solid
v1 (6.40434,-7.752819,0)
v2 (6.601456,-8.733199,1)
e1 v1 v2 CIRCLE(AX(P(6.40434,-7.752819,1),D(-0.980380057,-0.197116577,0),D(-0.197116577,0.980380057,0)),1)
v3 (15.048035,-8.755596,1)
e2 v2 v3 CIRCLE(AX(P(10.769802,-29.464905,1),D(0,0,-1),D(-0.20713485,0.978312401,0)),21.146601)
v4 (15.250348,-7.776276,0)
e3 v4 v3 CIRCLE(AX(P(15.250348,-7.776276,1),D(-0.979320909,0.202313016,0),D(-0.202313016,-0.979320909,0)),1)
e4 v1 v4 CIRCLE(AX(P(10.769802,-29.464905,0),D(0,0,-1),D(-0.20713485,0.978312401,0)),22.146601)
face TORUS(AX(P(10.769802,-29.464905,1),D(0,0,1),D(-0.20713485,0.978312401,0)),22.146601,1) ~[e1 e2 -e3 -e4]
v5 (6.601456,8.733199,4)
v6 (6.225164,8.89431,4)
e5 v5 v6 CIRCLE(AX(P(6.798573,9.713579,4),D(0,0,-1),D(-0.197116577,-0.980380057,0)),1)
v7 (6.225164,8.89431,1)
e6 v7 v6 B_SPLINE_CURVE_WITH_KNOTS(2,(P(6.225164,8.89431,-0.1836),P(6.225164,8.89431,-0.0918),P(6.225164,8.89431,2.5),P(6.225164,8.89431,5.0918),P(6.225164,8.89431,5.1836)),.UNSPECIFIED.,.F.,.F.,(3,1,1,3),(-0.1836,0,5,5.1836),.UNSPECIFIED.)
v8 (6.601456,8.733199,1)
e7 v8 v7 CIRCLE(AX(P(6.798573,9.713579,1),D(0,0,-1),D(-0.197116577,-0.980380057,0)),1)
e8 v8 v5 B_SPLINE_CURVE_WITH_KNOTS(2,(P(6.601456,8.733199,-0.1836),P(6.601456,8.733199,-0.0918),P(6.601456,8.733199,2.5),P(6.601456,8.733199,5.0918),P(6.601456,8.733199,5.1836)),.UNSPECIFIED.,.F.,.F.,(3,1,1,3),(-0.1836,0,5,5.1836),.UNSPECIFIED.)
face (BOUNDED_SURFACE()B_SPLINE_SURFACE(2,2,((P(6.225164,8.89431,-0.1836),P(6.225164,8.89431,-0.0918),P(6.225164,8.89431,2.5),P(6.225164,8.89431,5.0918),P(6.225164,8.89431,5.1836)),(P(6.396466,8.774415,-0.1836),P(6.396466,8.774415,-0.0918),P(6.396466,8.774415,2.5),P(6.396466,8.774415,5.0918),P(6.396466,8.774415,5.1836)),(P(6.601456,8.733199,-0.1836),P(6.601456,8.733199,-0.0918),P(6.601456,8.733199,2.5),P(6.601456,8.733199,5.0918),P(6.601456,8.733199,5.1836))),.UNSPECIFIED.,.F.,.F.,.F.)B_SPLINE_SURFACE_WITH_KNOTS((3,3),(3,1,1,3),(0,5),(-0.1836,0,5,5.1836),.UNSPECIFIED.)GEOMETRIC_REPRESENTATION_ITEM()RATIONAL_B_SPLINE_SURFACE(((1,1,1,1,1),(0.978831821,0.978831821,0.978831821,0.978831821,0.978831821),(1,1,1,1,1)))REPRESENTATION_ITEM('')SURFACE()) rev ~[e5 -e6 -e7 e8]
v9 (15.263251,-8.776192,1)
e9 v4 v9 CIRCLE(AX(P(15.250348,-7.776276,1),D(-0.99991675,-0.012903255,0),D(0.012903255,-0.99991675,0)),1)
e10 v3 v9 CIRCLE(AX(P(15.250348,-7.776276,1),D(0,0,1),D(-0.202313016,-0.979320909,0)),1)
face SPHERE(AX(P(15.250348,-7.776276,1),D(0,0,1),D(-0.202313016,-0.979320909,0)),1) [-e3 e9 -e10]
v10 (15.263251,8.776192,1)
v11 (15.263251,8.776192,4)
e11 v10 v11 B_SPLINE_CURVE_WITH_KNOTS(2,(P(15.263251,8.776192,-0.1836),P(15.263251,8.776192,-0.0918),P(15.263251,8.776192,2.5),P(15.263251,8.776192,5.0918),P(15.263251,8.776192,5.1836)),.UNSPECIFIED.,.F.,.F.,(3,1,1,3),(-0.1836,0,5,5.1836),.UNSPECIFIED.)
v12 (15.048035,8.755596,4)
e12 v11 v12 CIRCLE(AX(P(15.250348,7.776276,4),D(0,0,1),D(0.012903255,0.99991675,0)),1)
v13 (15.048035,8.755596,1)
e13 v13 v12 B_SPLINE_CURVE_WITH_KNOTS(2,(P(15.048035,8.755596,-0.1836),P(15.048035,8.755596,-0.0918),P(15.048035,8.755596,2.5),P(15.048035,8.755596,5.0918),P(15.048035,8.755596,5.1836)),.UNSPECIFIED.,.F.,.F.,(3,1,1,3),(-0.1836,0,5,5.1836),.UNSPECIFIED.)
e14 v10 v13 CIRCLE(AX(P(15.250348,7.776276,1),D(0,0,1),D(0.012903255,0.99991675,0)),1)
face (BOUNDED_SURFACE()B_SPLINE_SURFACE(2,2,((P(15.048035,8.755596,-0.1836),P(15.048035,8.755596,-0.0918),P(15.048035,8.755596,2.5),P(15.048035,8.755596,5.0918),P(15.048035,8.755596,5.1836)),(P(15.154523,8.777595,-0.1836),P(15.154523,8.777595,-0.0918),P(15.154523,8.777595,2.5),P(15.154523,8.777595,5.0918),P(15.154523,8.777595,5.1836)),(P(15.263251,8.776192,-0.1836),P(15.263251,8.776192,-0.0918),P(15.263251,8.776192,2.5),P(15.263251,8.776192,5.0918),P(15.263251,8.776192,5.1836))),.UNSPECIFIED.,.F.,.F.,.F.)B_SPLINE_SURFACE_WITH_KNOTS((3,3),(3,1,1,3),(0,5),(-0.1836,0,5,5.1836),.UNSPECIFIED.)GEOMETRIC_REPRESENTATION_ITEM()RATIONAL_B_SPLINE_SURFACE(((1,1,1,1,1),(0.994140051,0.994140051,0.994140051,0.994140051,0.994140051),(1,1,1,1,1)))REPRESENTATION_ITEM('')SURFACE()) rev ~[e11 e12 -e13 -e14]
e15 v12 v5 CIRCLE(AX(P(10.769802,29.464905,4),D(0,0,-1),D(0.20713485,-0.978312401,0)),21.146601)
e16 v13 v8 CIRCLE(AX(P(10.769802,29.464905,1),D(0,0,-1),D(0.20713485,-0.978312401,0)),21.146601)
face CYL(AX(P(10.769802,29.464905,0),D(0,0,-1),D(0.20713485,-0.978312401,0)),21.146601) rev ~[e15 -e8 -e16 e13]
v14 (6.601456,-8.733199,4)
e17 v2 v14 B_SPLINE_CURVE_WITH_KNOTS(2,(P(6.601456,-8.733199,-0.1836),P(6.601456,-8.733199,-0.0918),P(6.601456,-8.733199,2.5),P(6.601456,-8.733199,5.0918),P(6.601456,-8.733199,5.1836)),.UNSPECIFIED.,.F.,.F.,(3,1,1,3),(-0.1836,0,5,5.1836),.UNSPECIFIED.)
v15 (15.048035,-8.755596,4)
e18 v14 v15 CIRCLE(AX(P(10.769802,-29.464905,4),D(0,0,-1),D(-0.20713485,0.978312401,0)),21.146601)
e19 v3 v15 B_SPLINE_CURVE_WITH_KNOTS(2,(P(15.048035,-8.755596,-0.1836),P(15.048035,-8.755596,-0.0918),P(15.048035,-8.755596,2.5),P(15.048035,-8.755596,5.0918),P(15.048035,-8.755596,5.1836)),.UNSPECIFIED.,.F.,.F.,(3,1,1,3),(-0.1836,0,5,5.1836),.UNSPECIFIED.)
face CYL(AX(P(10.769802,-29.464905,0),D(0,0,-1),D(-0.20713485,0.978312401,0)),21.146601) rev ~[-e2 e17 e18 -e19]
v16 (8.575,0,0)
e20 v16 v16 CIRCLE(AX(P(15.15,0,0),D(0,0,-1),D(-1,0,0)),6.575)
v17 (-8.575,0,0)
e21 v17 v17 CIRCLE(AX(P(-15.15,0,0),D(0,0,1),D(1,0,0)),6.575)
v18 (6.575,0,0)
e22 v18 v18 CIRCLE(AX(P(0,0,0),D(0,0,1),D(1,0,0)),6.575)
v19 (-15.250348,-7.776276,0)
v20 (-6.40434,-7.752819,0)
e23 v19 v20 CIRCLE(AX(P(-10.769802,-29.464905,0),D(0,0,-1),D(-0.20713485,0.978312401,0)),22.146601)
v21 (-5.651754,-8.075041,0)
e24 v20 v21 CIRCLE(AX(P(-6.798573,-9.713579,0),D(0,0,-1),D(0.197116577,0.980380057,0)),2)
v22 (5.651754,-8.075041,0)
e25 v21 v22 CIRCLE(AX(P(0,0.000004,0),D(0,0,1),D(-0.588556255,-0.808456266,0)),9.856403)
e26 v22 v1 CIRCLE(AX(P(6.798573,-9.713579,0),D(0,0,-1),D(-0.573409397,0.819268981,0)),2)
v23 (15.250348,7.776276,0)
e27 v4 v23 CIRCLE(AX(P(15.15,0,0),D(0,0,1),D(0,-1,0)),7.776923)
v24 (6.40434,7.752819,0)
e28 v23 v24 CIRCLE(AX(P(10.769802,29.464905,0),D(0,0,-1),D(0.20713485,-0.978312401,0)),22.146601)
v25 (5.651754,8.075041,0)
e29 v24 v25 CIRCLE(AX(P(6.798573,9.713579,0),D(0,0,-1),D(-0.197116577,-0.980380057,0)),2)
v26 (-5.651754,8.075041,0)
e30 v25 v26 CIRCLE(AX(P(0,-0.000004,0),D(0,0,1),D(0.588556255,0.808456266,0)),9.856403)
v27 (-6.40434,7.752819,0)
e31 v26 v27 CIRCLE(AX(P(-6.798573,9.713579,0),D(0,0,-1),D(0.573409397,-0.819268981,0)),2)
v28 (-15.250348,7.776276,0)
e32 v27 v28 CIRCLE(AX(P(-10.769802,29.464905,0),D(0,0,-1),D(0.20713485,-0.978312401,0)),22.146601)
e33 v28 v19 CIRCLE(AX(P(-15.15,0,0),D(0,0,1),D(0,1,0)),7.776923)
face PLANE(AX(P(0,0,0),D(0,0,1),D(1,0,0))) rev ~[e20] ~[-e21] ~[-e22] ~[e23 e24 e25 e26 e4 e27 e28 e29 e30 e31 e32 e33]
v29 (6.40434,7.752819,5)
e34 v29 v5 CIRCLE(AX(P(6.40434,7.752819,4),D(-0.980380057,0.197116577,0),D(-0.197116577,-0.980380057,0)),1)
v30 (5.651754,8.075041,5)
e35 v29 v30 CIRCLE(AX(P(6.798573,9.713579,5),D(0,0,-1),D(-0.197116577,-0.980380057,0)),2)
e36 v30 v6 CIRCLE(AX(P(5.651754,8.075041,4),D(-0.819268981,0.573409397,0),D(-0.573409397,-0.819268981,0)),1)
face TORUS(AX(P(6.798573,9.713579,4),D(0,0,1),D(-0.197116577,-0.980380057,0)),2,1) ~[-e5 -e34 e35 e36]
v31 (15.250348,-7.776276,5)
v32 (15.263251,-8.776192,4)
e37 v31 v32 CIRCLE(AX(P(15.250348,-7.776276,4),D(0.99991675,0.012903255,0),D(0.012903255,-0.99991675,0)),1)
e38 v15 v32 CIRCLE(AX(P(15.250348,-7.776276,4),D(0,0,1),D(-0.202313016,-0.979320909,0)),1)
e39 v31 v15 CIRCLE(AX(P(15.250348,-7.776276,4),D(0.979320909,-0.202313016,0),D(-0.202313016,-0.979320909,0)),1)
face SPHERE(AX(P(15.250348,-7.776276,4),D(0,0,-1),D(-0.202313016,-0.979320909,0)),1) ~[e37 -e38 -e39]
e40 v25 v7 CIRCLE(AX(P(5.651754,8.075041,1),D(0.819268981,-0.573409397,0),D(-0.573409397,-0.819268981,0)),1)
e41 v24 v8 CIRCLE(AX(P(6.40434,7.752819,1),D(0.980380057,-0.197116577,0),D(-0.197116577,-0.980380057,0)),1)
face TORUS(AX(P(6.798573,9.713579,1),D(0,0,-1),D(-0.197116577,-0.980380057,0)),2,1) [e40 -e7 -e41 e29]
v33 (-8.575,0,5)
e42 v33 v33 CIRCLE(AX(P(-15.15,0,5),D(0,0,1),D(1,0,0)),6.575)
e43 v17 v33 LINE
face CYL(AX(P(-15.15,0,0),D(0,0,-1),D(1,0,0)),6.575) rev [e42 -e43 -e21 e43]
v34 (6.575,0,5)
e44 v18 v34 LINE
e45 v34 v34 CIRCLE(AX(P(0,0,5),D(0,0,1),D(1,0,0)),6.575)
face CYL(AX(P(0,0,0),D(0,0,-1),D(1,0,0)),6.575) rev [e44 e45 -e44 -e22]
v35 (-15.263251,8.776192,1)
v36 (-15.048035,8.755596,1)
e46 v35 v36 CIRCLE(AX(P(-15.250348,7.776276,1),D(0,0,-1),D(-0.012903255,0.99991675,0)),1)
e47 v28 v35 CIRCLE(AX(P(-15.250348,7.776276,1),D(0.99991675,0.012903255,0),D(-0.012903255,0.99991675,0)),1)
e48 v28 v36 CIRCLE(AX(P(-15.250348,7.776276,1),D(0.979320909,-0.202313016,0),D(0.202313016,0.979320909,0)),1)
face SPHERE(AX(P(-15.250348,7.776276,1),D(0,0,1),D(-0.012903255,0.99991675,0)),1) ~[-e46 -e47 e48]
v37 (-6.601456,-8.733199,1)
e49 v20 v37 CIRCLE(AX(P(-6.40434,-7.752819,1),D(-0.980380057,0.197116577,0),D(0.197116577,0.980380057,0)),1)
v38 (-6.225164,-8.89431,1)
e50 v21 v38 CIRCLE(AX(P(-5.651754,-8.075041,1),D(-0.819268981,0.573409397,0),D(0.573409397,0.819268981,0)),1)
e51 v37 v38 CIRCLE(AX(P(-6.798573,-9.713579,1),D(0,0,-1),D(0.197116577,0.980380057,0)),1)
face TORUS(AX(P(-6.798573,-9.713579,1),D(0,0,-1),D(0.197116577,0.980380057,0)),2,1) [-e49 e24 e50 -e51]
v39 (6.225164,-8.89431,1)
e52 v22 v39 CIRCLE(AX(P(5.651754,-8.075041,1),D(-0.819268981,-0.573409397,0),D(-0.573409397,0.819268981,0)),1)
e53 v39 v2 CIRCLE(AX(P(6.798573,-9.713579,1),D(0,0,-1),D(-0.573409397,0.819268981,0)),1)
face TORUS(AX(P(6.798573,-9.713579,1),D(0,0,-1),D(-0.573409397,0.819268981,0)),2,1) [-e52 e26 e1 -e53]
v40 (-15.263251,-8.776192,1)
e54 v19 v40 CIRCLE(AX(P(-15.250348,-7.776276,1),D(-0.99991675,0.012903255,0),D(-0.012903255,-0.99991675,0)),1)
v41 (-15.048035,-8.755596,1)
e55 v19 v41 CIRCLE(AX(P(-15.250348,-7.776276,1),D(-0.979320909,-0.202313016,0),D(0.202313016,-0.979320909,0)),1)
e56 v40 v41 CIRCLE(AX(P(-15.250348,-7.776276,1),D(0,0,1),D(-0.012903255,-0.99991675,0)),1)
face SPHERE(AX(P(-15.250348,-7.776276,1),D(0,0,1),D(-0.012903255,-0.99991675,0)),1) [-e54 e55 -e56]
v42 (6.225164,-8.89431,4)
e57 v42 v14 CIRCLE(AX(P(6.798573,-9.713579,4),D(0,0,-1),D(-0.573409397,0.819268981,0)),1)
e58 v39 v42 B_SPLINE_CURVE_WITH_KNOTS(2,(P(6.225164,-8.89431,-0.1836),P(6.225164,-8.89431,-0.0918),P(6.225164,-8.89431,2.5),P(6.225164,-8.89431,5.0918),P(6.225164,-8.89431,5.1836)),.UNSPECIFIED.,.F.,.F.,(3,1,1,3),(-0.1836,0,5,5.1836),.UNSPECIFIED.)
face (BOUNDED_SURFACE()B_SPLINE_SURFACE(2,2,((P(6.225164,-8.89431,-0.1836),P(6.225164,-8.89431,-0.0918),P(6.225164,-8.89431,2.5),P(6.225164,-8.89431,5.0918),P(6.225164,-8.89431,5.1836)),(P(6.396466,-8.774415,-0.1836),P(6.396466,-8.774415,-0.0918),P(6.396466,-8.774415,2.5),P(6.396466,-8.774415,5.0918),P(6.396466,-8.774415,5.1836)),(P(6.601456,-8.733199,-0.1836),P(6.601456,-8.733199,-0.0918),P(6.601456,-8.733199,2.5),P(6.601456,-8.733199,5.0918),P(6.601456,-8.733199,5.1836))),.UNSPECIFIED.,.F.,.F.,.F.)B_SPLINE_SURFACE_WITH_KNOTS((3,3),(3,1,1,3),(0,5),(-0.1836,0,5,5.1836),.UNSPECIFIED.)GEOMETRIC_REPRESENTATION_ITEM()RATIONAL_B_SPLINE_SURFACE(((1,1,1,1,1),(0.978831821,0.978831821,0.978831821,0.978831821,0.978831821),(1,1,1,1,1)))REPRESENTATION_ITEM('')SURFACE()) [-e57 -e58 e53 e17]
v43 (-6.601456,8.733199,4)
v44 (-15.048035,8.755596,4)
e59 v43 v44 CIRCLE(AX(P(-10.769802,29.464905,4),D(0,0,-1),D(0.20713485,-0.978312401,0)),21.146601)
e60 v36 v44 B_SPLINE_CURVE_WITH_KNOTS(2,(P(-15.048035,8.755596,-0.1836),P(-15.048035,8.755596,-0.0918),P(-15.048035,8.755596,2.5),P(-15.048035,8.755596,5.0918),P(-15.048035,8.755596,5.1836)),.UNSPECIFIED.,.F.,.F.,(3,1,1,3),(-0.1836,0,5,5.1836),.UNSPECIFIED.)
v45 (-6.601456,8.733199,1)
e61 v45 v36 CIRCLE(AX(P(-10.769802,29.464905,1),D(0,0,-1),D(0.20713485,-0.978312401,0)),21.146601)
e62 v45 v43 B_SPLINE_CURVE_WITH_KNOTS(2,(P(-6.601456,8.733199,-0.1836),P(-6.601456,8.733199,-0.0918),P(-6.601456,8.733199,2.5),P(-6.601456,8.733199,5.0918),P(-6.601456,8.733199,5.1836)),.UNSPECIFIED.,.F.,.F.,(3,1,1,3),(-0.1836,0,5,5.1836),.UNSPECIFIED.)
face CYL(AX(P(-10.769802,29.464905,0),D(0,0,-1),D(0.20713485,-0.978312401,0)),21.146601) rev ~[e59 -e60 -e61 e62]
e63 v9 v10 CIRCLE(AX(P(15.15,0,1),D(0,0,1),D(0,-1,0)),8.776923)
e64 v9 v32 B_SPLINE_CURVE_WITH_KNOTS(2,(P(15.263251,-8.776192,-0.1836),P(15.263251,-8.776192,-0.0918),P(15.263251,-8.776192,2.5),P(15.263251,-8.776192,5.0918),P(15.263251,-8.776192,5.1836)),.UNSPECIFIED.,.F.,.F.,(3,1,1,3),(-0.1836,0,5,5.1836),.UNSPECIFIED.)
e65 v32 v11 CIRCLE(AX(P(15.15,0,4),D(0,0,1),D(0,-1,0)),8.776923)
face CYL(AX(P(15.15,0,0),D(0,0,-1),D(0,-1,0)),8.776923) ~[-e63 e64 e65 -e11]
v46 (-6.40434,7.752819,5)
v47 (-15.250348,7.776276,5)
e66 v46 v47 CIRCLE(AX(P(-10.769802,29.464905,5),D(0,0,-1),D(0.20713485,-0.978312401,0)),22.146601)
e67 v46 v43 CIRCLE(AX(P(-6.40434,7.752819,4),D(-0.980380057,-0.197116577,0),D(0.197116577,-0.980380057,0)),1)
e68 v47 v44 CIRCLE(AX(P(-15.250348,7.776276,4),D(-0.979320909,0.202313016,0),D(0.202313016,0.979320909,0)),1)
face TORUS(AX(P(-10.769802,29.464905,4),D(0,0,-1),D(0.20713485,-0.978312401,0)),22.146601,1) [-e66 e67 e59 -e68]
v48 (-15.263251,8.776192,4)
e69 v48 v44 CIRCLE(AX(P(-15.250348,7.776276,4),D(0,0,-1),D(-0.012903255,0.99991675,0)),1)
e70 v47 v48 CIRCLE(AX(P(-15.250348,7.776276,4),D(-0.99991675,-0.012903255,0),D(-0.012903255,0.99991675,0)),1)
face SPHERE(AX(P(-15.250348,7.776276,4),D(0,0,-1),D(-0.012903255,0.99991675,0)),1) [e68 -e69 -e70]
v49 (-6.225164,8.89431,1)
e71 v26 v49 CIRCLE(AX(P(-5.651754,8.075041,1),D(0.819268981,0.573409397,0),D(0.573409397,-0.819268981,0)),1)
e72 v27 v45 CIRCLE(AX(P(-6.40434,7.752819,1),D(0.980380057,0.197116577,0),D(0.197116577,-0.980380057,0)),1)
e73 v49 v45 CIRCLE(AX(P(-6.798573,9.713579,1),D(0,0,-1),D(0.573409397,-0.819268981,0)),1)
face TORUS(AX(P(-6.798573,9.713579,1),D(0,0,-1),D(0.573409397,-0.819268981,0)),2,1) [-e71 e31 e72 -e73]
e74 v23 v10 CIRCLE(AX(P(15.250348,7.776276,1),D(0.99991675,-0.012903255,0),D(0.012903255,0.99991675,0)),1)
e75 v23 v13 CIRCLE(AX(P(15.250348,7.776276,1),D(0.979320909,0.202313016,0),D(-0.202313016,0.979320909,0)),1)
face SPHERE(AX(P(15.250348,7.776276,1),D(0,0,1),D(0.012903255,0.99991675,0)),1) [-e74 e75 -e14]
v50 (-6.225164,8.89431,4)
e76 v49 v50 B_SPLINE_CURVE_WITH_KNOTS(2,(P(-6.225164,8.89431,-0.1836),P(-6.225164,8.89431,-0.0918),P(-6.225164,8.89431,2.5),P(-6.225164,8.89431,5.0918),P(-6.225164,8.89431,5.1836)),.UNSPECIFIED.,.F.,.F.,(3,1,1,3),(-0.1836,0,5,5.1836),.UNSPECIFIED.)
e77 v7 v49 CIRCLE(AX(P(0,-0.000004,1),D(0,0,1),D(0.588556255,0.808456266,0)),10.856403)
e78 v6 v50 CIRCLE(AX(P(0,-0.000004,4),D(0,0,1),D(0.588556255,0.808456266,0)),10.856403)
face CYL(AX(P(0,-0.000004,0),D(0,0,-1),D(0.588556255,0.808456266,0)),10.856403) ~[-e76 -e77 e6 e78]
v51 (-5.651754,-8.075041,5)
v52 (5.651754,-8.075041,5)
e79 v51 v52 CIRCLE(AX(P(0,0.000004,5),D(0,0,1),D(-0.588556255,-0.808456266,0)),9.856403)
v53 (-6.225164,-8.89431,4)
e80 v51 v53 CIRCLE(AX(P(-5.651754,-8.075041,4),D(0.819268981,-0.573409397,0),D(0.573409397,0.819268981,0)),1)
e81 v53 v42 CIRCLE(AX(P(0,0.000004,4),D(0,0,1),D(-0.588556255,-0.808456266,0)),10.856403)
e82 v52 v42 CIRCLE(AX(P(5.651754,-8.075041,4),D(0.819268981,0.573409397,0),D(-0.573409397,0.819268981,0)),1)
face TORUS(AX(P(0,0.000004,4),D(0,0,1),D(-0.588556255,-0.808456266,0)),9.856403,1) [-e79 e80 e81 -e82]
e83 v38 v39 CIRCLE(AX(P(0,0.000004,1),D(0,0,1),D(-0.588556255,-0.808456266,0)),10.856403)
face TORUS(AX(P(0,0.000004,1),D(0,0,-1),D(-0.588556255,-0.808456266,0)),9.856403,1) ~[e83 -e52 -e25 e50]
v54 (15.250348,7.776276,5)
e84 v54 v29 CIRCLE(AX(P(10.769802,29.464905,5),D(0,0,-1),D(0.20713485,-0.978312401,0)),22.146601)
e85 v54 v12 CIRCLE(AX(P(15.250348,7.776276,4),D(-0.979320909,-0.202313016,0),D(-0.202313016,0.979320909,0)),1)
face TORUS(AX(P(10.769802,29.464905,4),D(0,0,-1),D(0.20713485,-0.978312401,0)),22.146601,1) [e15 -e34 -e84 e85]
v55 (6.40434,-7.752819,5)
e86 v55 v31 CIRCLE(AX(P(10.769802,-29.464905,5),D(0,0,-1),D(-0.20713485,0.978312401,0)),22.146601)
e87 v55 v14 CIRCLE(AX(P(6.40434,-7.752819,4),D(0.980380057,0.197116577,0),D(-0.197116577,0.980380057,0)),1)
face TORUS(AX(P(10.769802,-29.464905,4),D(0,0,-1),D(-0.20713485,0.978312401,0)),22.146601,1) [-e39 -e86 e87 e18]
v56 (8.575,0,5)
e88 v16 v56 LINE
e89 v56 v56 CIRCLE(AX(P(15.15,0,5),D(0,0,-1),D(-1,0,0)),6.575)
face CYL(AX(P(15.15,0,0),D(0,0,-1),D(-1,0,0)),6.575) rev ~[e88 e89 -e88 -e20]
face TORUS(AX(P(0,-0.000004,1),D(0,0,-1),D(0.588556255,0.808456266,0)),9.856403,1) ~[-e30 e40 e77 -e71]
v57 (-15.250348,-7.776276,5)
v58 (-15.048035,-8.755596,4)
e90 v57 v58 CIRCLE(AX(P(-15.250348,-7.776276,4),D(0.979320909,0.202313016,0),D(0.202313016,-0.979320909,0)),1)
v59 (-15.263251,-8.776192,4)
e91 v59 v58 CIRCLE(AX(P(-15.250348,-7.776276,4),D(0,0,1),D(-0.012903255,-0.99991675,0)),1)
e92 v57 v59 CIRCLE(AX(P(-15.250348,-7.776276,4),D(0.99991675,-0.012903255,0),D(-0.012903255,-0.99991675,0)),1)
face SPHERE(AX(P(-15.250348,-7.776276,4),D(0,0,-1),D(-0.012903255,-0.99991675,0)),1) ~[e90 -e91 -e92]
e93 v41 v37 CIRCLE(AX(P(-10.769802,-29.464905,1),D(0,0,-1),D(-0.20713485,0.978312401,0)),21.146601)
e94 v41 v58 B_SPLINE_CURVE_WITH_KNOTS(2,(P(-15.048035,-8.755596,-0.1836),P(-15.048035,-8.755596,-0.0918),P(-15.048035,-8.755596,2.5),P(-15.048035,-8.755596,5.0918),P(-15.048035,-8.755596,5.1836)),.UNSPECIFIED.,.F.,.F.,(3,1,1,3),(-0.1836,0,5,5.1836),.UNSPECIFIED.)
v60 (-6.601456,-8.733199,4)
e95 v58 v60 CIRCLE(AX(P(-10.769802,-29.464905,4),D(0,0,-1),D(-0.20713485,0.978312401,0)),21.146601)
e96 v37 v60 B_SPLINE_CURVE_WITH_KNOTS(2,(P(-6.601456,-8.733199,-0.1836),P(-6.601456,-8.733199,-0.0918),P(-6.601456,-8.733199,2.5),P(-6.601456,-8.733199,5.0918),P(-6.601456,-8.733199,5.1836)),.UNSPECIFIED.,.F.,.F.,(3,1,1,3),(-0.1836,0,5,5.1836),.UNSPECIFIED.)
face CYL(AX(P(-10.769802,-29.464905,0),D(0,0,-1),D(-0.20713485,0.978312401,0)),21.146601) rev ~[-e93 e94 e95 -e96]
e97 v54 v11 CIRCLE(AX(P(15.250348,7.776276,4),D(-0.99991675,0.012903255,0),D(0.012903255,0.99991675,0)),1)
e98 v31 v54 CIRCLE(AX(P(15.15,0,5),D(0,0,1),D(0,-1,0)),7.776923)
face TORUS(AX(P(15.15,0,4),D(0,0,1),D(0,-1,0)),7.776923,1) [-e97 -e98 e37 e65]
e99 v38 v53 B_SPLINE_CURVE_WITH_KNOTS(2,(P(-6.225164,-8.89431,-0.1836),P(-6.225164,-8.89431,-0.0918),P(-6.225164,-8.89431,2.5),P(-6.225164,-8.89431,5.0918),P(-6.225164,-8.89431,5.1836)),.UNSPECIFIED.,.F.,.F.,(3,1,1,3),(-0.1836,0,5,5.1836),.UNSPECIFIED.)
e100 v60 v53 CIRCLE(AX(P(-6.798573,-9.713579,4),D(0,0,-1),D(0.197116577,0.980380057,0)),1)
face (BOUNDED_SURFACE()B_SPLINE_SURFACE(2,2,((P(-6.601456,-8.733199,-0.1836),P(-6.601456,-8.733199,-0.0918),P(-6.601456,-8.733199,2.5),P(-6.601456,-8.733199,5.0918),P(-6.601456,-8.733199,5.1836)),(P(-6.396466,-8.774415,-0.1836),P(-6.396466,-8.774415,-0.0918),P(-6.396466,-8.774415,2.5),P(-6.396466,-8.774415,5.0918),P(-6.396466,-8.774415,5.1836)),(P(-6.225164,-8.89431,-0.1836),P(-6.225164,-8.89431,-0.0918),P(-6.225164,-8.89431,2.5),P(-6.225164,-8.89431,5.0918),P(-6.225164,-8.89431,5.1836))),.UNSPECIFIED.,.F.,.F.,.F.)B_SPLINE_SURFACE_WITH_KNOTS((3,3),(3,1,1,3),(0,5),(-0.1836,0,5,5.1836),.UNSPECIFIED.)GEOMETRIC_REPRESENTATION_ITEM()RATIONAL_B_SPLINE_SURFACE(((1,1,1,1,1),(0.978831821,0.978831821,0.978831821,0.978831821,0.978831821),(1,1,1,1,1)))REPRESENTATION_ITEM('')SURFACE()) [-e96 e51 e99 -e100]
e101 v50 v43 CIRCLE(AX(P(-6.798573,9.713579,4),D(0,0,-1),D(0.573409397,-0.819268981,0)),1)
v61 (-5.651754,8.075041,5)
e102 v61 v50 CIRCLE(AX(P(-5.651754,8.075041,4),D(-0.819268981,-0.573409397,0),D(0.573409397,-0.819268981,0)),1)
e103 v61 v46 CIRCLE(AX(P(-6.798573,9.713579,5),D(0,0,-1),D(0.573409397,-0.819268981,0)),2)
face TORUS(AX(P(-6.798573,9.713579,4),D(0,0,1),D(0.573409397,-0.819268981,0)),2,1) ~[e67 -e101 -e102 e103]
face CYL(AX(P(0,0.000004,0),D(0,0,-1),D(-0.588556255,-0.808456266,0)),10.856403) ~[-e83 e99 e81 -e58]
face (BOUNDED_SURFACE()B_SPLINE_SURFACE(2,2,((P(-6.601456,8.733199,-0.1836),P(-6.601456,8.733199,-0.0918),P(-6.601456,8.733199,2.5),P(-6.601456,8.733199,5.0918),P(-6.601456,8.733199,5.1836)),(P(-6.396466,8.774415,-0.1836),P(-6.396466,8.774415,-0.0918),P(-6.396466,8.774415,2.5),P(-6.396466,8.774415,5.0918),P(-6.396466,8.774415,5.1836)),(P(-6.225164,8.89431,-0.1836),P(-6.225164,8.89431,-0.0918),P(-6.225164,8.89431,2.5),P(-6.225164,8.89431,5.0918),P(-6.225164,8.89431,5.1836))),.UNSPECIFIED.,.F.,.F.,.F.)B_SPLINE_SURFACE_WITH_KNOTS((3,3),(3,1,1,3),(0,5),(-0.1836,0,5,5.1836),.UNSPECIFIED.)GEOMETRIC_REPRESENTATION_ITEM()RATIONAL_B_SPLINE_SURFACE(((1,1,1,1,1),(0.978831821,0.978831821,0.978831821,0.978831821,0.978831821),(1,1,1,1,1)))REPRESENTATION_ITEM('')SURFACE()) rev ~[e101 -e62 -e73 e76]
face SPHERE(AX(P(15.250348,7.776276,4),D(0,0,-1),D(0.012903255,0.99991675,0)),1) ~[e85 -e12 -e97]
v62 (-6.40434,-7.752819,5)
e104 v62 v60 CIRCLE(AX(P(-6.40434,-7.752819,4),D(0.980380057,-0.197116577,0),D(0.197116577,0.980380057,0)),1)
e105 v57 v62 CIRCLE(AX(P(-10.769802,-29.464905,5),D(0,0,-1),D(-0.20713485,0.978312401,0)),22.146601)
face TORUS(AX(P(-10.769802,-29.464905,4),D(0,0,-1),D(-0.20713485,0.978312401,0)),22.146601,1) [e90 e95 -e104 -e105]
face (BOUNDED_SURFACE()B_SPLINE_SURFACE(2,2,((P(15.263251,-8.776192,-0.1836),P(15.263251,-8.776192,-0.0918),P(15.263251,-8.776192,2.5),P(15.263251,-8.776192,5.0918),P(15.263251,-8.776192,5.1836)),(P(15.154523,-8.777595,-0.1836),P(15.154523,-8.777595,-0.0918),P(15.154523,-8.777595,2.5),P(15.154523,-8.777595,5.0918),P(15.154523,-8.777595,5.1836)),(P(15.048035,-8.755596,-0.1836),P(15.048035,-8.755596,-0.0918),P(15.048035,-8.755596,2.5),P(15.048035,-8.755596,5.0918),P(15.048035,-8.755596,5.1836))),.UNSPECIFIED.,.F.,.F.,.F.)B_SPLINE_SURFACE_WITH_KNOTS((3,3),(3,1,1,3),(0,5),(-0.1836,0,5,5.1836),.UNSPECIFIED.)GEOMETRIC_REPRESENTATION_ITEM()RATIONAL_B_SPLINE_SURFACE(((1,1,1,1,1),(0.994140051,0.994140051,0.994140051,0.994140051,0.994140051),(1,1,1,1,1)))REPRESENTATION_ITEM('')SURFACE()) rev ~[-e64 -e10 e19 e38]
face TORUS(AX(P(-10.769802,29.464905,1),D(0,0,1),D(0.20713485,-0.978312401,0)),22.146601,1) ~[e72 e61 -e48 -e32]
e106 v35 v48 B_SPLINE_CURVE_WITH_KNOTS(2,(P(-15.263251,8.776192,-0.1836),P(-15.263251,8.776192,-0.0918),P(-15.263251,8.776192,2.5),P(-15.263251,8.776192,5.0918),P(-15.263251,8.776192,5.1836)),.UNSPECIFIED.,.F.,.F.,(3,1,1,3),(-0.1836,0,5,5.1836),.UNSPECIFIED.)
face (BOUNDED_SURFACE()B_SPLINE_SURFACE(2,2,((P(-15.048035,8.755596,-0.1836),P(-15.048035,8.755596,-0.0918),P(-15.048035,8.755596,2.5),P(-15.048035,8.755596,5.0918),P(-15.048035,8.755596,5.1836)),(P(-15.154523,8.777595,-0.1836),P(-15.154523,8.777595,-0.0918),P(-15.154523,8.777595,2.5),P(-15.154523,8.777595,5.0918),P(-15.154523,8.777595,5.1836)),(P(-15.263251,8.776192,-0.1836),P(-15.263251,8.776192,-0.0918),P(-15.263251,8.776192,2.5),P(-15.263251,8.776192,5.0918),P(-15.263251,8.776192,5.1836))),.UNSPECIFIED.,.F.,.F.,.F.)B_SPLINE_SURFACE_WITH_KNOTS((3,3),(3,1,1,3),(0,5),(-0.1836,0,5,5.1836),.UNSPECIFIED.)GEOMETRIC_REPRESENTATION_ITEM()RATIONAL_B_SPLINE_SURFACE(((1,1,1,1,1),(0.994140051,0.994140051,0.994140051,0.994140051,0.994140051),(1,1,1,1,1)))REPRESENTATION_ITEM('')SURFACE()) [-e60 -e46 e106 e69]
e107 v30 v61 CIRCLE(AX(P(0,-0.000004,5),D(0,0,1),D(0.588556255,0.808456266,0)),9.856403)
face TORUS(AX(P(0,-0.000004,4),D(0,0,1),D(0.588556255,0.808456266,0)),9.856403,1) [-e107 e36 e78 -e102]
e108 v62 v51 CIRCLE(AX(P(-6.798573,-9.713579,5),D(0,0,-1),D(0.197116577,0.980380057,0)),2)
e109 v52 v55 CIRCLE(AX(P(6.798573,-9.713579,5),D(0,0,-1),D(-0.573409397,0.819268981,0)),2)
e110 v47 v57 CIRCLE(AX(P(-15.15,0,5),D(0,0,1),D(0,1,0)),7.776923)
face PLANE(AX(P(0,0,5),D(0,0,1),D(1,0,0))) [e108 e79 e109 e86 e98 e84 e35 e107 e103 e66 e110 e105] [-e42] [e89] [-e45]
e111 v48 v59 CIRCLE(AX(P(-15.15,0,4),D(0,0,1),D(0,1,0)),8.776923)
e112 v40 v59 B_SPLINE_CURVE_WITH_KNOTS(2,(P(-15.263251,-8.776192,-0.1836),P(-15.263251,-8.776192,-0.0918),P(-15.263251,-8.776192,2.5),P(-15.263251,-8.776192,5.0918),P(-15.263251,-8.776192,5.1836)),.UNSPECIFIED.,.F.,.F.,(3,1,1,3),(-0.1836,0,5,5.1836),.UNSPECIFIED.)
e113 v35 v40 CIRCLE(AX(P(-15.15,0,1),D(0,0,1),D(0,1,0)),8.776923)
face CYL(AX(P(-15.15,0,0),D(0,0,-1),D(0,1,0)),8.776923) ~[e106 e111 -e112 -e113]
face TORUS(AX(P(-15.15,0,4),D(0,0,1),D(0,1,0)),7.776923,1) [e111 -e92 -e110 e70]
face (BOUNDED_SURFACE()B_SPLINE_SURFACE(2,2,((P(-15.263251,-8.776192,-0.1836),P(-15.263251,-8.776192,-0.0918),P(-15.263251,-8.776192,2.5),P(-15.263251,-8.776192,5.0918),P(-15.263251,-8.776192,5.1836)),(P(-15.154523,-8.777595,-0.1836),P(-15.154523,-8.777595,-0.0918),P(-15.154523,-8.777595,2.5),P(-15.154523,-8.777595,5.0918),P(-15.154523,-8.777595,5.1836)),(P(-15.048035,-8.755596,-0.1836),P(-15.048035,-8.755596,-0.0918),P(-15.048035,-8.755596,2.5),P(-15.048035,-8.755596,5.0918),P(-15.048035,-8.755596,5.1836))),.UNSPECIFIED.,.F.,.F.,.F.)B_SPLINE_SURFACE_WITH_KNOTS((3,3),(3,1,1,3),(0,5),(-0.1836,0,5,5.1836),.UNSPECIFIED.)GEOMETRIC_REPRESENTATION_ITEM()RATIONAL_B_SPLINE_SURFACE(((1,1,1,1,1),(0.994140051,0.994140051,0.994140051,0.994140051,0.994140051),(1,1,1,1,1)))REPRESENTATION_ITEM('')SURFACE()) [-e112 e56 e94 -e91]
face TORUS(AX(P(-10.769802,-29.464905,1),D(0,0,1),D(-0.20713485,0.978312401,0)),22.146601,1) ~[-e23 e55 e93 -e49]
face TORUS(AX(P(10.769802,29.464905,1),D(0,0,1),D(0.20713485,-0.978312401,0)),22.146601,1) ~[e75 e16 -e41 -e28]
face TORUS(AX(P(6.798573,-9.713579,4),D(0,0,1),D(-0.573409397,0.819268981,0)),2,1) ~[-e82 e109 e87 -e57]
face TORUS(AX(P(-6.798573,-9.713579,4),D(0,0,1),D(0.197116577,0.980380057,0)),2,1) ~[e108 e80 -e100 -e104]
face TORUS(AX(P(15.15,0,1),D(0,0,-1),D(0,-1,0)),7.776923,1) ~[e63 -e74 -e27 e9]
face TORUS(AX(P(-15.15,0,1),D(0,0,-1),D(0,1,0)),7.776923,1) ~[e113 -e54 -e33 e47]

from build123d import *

# Parameters (mm, degrees)
F0_R     = 6.575
F1_DEPTH = 5
F2_R     = 1


with BuildPart() as f1:
    # F0 (on Top) → F1 (new body)
    with BuildSketch(Plane.XY):
        with BuildLine():
            ThreePointArc((-6.389604, 8.776923), (-10.769802, 8.318304), (-15.15, 8.776923))
            ThreePointArc((-15.15, 8.776923), (-23.926923, 0), (-15.15, -8.776923))
            ThreePointArc((-15.15, -8.776923), (-10.769802, -8.318304), (-6.389604, -8.776923))
            ThreePointArc((-6.389604, -8.776923), (0, -10.856399), (6.389604, -8.776923))
            ThreePointArc((6.389604, -8.776923), (10.769802, -8.318304), (15.15, -8.776923))
            ThreePointArc((15.15, -8.776923), (23.926923, 0), (15.15, 8.776923))
            ThreePointArc((15.15, 8.776923), (10.769802, 8.318304), (6.389604, 8.776923))
            ThreePointArc((6.389604, 8.776923), (0, 10.856399), (-6.389604, 8.776923))
        make_face()
        with Locations((-15.15, 0)):
            Circle(F0_R, mode=Mode.SUBTRACT)
        Circle(F0_R, mode=Mode.SUBTRACT)
        with BuildLine():
            ThreePointArc((21.725, 0), (15.15, -6.575), (8.575, 0))
            ThreePointArc((8.575, 0), (15.15, 6.575), (21.725, 0))
        make_face(mode=Mode.SUBTRACT)
    extrude(amount=F1_DEPTH)

    # F2
    f2_edges = [f1.edges().sort_by_distance(p)[0] for p in [
        (-15.15, 8.776923, 2.5),
        (-15.15, -8.776923, 2.5),
        (-23.926923, 0, 0),
        (-23.926923, 0, 5),
        (-6.389604, -8.776923, 2.5),
        (-10.769802, -8.318304, 0),
        (-10.769802, -8.318304, 5),
        (6.389604, -8.776923, 2.5),
        (0, -10.856399, 0),
        (0, -10.856399, 5),
        (15.15, -8.776923, 2.5),
        (10.769802, -8.318304, 0),
        (10.769802, -8.318304, 5),
        (15.15, 8.776923, 2.5),
        (23.926923, 0, 0),
        (23.926923, 0, 5),
        (6.389604, 8.776923, 2.5),
        (10.769802, 8.318304, 0),
        (10.769802, 8.318304, 5),
        (-6.389604, 8.776923, 2.5),
        (0, 10.856399, 0),
        (0, 10.856399, 5),
        (-10.769802, 8.318304, 0),
        (-10.769802, 8.318304, 5),
    ]]
    fillet(f2_edges, radius=F2_R)


solid = f1.part
